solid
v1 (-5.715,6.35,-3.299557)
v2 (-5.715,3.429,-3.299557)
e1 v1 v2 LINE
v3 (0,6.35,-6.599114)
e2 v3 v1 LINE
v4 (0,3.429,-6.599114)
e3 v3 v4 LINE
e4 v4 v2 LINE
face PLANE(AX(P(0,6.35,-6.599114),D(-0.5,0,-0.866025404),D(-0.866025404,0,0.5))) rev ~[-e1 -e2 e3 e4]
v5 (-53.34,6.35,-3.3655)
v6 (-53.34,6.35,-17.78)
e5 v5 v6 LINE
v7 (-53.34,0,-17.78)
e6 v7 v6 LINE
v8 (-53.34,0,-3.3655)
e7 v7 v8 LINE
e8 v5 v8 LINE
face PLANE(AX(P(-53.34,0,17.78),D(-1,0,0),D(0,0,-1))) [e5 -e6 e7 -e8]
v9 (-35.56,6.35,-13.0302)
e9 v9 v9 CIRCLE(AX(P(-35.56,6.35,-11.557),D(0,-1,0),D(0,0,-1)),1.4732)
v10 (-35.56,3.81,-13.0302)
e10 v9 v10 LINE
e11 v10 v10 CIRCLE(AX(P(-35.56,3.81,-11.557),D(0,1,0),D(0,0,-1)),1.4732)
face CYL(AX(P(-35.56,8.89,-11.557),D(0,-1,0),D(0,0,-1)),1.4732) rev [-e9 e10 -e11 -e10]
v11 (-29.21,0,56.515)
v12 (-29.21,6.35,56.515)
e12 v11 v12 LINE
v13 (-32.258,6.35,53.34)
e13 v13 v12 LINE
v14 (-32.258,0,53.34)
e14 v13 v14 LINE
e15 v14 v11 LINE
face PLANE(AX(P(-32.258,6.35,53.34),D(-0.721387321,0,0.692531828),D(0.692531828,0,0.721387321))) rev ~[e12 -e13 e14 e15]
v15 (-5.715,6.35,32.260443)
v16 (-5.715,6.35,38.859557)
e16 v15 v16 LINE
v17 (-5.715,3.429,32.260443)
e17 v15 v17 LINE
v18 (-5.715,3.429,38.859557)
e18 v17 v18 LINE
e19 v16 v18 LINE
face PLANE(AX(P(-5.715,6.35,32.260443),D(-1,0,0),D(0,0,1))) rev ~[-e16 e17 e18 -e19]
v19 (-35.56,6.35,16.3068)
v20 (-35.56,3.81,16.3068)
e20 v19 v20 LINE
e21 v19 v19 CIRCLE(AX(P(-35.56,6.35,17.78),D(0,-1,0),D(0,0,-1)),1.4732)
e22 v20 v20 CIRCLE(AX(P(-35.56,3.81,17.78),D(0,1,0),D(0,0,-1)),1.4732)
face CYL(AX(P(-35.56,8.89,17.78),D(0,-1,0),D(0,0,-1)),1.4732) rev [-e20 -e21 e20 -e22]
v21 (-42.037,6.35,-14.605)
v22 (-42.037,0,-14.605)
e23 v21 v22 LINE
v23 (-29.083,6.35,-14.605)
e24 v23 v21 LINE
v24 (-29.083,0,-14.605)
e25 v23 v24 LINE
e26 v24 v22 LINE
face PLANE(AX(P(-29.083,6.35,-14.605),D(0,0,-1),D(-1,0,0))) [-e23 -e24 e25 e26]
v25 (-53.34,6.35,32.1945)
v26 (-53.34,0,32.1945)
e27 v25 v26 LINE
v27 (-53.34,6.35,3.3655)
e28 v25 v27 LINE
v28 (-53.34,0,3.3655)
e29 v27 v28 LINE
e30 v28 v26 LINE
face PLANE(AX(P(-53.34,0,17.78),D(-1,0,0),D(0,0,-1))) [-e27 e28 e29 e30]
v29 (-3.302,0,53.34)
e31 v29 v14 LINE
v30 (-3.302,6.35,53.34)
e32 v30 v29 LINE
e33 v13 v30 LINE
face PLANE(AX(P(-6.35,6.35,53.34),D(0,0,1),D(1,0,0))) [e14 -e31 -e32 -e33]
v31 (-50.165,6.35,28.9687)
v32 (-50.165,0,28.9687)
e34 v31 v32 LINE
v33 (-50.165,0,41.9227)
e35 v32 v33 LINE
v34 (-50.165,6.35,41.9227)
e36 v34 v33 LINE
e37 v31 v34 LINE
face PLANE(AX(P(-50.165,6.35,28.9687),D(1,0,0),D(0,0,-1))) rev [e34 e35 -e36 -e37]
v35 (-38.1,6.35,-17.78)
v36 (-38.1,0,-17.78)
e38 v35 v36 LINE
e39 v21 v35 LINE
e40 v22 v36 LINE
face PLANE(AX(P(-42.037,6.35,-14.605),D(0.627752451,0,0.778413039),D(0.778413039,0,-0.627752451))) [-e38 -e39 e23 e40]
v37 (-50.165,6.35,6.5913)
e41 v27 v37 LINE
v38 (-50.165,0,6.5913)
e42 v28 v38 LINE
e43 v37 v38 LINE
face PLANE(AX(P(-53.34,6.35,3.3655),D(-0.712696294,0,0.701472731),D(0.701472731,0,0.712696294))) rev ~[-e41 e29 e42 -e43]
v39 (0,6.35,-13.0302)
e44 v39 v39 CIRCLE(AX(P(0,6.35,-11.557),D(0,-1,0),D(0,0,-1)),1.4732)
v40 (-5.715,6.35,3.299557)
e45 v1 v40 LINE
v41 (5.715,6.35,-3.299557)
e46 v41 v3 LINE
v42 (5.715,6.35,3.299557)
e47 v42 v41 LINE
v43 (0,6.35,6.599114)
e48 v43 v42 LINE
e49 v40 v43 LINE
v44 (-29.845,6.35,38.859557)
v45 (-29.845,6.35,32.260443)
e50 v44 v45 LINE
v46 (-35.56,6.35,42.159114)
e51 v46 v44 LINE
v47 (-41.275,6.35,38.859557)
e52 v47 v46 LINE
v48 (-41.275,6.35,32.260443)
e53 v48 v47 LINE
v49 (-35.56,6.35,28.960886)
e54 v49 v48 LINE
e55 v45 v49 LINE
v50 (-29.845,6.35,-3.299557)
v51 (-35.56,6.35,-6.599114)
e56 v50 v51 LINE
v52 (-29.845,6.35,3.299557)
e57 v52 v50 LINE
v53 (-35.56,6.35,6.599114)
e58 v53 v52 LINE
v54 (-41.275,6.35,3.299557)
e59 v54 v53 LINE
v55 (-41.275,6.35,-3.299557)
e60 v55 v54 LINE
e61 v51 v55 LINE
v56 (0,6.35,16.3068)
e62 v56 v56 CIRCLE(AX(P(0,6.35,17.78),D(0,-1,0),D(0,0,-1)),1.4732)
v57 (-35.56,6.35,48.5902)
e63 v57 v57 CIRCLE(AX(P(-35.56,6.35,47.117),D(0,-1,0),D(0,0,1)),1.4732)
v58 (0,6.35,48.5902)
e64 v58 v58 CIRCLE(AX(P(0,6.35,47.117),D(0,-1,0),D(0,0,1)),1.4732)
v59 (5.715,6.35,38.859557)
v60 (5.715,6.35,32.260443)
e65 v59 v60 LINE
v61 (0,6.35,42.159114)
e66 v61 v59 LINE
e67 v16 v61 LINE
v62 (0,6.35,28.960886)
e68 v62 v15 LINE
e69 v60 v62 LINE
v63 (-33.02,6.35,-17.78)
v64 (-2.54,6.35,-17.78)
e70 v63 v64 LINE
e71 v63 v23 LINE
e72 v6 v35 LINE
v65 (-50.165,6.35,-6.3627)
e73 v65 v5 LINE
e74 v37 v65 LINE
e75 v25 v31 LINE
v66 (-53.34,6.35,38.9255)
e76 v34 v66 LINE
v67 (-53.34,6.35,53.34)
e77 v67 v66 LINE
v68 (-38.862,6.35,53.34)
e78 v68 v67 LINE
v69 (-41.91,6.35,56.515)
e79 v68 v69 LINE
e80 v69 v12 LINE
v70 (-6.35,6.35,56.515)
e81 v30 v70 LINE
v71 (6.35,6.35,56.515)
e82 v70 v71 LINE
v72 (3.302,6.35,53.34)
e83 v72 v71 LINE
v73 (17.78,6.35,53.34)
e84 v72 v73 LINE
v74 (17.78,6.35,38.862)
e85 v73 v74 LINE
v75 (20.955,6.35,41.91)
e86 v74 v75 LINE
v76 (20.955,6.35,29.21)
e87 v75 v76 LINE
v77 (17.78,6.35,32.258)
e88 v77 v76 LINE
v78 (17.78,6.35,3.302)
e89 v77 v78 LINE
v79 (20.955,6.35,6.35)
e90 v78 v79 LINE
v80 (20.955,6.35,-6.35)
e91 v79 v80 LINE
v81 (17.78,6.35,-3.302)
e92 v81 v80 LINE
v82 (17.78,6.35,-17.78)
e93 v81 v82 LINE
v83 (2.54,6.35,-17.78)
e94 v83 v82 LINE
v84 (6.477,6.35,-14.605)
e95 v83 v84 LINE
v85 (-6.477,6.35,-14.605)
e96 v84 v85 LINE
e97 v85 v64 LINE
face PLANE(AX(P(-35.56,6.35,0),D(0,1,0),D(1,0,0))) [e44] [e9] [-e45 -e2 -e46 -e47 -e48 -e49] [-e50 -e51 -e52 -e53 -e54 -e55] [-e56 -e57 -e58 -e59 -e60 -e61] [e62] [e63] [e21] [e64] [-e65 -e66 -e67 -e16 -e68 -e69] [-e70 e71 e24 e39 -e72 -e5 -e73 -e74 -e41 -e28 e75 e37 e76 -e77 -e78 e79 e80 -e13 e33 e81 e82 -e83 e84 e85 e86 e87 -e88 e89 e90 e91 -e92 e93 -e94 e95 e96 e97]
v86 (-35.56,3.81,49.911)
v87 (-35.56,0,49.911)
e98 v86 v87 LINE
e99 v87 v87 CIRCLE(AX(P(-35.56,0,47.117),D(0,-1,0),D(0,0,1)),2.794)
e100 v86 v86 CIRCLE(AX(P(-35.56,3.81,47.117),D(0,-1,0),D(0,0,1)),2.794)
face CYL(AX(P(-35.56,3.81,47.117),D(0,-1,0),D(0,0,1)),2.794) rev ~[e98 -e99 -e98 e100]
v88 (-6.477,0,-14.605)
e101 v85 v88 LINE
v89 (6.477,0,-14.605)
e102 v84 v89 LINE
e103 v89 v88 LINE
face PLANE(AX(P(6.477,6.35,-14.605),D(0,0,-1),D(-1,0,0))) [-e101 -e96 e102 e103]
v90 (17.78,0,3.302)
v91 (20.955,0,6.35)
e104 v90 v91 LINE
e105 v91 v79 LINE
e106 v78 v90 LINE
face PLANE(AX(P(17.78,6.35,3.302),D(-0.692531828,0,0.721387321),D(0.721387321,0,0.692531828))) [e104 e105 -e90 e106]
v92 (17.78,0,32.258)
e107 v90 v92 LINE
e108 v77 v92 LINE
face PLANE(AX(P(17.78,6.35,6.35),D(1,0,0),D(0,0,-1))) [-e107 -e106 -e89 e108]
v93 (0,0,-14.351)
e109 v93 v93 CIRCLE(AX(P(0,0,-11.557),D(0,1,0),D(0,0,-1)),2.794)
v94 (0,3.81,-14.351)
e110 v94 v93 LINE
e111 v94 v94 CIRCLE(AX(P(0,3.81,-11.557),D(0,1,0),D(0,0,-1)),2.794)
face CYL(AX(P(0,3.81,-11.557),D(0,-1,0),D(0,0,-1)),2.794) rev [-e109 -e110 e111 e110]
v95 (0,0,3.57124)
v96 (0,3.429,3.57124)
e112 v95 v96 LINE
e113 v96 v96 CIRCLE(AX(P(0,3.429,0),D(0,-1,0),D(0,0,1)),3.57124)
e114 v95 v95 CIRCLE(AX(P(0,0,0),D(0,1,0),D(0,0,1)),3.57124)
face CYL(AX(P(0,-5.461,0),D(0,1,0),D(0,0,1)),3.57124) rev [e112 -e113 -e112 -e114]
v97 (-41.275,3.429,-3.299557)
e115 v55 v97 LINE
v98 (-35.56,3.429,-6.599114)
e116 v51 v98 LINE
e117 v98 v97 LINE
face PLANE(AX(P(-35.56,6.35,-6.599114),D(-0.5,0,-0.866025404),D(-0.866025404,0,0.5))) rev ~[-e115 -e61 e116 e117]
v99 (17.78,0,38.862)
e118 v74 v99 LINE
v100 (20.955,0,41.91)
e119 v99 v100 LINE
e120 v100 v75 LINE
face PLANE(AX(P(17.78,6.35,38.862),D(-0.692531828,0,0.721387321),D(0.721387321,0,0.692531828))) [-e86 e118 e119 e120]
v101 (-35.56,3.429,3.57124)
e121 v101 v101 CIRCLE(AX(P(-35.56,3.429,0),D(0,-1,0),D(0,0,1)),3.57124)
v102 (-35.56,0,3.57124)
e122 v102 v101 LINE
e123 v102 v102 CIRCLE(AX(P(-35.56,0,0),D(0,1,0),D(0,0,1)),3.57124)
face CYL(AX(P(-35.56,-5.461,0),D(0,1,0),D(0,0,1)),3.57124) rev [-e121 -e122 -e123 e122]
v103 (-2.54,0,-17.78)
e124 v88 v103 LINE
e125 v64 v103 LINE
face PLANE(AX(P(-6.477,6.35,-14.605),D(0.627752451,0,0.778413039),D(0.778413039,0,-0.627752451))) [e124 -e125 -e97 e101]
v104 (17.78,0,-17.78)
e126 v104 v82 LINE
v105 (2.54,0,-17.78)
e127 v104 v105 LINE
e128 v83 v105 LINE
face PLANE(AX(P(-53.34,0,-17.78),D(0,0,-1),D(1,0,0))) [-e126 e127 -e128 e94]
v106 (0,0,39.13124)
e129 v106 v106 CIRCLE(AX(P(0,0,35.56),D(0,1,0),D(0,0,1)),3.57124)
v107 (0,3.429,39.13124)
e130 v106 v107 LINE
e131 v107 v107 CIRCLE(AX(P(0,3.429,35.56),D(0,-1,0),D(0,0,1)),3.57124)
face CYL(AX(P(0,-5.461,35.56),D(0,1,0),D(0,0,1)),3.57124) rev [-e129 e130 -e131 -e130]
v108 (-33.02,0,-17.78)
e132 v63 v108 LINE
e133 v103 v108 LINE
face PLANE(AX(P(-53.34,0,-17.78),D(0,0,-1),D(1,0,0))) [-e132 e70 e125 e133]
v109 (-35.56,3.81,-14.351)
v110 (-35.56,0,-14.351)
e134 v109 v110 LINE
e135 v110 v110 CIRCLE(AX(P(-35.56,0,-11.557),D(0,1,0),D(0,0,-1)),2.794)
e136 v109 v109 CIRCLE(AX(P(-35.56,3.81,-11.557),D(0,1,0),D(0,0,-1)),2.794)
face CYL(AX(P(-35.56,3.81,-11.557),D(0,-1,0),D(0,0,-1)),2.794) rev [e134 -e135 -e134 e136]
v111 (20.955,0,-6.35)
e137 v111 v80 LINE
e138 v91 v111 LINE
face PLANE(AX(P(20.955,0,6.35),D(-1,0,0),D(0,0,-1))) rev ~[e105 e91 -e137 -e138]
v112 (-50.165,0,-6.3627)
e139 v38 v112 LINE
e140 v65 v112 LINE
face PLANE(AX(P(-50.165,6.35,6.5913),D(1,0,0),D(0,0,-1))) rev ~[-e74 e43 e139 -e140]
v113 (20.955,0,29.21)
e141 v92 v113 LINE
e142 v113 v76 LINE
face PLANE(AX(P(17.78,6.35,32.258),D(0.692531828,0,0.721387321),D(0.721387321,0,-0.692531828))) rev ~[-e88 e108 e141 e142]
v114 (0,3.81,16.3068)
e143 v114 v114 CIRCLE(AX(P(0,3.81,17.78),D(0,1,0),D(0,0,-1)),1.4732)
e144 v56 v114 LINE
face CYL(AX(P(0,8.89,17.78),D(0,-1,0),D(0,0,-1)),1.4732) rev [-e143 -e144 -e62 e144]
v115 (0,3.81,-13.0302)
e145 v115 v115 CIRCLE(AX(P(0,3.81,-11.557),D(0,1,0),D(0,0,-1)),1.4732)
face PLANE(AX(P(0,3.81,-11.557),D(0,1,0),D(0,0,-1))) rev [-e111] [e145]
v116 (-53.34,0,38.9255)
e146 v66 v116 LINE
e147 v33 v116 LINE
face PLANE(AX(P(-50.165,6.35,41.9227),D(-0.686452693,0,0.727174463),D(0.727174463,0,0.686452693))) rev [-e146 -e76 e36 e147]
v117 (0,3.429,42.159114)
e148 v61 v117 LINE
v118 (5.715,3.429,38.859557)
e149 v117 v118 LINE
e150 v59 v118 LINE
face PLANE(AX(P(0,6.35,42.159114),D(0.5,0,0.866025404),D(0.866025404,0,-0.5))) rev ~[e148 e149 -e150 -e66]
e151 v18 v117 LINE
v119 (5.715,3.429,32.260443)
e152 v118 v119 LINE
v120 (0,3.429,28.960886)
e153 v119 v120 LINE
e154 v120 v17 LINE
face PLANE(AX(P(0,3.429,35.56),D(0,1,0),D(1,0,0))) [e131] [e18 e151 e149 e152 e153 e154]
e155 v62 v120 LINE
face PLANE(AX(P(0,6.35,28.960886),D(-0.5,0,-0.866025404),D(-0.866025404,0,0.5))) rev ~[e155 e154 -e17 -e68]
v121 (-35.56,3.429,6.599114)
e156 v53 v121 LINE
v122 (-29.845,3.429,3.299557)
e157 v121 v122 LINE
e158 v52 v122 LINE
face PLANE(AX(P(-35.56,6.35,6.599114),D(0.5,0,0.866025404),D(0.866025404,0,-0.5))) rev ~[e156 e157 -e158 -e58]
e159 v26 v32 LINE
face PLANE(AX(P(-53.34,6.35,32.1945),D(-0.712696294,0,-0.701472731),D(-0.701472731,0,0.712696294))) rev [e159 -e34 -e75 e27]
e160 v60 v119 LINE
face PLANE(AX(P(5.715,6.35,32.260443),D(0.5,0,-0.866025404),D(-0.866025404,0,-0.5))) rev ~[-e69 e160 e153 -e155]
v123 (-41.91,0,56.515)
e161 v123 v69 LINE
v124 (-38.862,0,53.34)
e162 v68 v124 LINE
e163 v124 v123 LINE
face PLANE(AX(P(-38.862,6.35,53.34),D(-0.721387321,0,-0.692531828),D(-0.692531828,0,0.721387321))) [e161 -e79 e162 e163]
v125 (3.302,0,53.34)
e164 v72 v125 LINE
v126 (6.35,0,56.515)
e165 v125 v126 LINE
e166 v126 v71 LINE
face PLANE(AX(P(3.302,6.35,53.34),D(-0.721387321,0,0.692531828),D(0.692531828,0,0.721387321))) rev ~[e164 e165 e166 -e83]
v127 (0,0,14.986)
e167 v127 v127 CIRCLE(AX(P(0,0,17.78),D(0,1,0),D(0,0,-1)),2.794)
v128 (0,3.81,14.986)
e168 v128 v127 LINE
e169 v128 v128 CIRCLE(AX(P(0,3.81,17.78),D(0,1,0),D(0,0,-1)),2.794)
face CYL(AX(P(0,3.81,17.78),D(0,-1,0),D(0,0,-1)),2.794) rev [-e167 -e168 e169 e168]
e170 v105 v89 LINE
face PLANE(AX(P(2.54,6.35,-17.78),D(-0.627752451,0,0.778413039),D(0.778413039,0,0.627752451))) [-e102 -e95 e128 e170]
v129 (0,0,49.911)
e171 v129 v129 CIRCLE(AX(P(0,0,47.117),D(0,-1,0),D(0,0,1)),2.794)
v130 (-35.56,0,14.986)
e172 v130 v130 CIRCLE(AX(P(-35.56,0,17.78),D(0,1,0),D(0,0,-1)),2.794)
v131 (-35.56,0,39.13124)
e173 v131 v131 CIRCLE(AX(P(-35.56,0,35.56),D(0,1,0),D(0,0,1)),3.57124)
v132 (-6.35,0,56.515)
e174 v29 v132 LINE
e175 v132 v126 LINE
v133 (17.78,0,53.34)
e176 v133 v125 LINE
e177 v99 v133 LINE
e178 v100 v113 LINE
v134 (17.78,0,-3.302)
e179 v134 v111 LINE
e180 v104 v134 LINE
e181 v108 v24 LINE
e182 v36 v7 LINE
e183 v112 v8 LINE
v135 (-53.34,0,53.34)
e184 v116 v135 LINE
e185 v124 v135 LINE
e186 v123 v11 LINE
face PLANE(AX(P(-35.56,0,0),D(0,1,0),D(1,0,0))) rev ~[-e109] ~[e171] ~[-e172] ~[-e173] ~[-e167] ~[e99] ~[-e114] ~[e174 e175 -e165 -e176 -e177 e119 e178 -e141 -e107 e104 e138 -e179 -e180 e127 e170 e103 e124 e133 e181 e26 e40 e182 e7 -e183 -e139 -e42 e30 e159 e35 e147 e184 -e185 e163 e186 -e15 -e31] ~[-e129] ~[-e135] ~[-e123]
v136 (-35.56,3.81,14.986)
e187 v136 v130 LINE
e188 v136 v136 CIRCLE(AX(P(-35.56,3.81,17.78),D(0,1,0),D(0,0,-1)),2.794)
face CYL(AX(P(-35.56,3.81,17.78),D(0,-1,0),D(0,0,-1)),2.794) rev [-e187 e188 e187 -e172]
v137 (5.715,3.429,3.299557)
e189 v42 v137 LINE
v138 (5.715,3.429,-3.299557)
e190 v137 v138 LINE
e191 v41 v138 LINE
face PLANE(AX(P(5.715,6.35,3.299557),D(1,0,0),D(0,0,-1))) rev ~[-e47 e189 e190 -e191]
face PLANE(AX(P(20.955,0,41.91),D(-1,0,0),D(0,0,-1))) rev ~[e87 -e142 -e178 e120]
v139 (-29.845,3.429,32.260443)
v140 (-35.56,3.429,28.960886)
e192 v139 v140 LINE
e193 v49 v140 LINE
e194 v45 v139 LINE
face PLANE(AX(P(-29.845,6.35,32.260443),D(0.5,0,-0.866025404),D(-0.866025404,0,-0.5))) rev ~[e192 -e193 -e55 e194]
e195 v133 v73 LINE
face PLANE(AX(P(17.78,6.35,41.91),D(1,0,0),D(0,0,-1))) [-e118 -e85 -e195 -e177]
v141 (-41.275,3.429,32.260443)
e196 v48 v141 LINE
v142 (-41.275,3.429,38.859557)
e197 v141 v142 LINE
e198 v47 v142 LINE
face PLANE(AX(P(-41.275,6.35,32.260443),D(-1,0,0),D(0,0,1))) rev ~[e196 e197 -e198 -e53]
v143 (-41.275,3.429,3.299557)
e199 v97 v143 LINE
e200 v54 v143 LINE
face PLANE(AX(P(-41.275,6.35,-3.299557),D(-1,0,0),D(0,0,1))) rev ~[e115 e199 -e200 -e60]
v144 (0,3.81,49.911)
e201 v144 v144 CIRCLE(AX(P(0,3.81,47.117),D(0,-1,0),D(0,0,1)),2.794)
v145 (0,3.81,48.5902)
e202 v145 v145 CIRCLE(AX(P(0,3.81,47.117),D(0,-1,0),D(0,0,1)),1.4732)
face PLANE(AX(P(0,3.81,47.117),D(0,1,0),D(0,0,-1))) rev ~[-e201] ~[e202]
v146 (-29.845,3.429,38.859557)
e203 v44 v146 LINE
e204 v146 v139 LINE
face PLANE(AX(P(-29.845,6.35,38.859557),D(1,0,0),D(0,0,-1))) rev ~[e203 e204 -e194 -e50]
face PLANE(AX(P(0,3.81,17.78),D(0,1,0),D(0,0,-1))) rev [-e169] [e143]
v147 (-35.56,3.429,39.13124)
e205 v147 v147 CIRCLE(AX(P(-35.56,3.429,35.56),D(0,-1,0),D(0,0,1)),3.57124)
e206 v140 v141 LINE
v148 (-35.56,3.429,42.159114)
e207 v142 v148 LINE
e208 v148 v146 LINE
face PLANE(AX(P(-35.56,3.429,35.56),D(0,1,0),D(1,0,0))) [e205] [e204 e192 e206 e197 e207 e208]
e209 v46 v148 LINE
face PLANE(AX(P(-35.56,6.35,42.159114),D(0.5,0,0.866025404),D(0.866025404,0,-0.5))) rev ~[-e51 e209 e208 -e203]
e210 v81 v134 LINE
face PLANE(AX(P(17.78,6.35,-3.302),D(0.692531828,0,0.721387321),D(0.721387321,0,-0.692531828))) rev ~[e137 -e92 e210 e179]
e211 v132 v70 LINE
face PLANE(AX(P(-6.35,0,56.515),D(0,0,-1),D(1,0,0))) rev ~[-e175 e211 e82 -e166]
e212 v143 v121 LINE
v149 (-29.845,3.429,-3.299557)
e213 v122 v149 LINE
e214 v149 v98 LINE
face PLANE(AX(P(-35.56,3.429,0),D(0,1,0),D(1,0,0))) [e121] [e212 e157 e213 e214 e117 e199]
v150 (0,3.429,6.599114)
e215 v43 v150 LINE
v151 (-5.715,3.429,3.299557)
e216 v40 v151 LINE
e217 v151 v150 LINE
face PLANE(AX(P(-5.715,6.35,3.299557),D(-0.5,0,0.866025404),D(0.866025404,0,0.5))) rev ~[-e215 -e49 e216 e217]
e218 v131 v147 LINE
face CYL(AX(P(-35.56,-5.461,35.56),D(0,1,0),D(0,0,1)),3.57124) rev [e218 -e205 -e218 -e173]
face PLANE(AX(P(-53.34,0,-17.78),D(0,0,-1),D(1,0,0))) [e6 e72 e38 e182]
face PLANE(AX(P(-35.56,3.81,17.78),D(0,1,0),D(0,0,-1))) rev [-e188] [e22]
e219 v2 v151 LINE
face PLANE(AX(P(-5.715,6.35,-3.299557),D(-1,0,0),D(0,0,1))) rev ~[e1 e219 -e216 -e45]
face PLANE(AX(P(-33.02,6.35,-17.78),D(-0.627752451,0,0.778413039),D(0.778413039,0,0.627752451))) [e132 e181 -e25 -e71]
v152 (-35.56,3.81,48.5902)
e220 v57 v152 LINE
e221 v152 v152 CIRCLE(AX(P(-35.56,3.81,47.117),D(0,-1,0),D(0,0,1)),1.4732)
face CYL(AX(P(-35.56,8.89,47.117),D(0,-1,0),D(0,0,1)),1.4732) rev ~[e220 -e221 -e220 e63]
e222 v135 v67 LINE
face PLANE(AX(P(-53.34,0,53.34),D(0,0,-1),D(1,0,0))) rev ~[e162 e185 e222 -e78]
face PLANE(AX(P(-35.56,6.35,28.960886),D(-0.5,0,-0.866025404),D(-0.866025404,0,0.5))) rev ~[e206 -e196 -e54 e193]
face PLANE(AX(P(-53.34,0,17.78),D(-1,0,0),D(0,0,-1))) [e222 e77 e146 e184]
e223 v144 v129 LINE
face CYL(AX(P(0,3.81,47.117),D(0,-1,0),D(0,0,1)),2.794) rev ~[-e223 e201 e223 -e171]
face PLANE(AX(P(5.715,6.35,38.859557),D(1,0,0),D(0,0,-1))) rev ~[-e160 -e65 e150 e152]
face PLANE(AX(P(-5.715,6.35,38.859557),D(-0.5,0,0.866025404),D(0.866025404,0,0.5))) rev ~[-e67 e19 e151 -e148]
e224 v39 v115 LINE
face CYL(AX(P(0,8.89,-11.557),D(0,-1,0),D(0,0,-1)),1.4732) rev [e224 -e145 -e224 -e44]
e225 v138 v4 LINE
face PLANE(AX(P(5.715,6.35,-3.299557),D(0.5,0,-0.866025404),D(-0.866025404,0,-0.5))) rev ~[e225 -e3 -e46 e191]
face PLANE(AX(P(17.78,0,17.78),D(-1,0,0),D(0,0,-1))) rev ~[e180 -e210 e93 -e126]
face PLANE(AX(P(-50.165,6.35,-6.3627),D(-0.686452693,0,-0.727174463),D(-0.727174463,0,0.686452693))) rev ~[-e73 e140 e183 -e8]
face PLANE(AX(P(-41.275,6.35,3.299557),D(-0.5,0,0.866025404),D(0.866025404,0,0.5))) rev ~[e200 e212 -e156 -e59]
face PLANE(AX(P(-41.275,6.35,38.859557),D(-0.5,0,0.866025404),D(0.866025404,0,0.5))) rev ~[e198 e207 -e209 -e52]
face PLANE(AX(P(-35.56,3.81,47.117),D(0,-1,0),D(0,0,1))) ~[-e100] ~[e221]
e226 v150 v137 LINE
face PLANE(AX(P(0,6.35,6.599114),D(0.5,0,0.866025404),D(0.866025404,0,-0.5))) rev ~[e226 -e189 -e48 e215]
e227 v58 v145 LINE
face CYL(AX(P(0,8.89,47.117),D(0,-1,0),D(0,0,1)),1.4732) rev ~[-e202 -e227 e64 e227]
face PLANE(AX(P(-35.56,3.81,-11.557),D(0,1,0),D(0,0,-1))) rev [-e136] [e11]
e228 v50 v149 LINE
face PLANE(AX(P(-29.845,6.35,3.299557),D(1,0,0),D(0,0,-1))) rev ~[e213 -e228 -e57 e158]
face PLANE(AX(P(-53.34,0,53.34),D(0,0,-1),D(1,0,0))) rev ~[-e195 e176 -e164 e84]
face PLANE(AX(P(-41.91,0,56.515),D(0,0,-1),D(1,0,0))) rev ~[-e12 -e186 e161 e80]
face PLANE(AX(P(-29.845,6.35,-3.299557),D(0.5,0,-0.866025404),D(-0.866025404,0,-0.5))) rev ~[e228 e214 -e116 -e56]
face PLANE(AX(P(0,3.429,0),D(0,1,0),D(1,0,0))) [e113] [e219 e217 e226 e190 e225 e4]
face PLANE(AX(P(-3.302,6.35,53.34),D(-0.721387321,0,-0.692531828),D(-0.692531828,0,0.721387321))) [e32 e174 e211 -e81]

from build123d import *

# Parameters (mm, degrees)
SKETCH1_W             = 35.56
SKETCH1_H             = 35.56
BOSS_EXTRUDE1_DEPTH   = 6.35
CUT_EXTRUDE1_DEPTH    = 2.921
LPATTERN11_COUNT      = 2
LPATTERN11_PITCH      = 35.56
LPATTERN11_COUNT_DIR2 = 2
LPATTERN11_PITCH_DIR2 = 35.56
LPATTERN15_COUNT      = 2
LPATTERN15_PITCH      = 35.56
LPATTERN16_COUNT      = 2
LPATTERN16_PITCH      = 35.56
SKETCH20_W            = 3.175
SKETCH20_H            = 12.7
BOSS_EXTRUDE2_DEPTH   = 6.35
CUT_EXTRUDE2_DEPTH    = 76.700949135
SKETCH22_W            = 12.7
SKETCH22_H            = 3.175
BOSS_EXTRUDE3_DEPTH   = 6.35
CUT_EXTRUDE3_DEPTH    = 78.97065682
CUT_EXTRUDE4_DEPTH    = 78.97065682
CUT_EXTRUDE5_DEPTH    = 78.97065682


with BuildPart() as part:
    # Sketch1 → Boss-Extrude1 (new body)
    with BuildSketch(Plane(origin=(0, 0, 0), x_dir=(1, 0, 0), z_dir=(0, 1, 0))):
        Rectangle(SKETCH1_W, SKETCH1_H)
    boss_extrude1 = extrude(amount=BOSS_EXTRUDE1_DEPTH)

    # Sketch2 → Cut-Extrude1 (cut)
    with BuildSketch(Plane(origin=(0, 6.35, 0), x_dir=(1, 0, 0), z_dir=(0, 1, 0))):
        Polygon((0, 6.599113577), (-5.715, 3.299556788), (-5.715, -3.299556788), (0, -6.599113577), (5.715, -3.299556788), (5.715, 3.299556788), align=None)
    cut_extrude1 = extrude(amount=-CUT_EXTRUDE1_DEPTH, mode=Mode.SUBTRACT)

    # Sketch3 → 1/4 Clearance Hole1 (revolve, cut)
    with BuildSketch(Plane(origin=(0, 3.429, 0), x_dir=(0, 0, 1), z_dir=(1, 0, 0))):
        Polygon((0, 0), (0, 11.035817477), (3.57124, 8.89), (3.57124, 0), align=None)
    f_1_4_clearance_hole1 = revolve(axis=Axis((0, 9.779, 0), (0, -1, 0)), mode=Mode.SUBTRACT)

    # LPattern11: Boss-Extrude1, Cut-Extrude1, 1_4 Clearance Hole1 2 × 2
    with Locations(*[(-j * LPATTERN11_PITCH_DIR2, 0, i * LPATTERN11_PITCH) for i in range(LPATTERN11_COUNT) for j in range(LPATTERN11_COUNT_DIR2) if (i, j) != (0, 0)]):
        add(boss_extrude1)
        add(cut_extrude1, mode=Mode.SUBTRACT)
        add(f_1_4_clearance_hole1, mode=Mode.SUBTRACT)

    # Sketch15 → CBORE for #4 Socket Head Cap Screw5 (revolve, cut)
    with BuildSketch(Plane(origin=(0, 0, -11.557), x_dir=(0, 0, -1), z_dir=(1, 0, 0))):
        Polygon((0, 0), (0, 9.775187864), (1.4732, 8.89), (1.4732, 3.81), (2.794, 3.81), (2.794, 0), align=None)
    cbore_for_4_socket_head_cap_screw5 = revolve(axis=Axis((0, -6.35, -11.557), (0, 1, 0)), mode=Mode.SUBTRACT)

    # LPattern15: CBORE for #4 Socket Head Cap Screw5 ×2
    with Locations(*[(-i * LPATTERN15_PITCH, 0, 0) for i in range(1, LPATTERN15_COUNT)]):
        add(cbore_for_4_socket_head_cap_screw5, mode=Mode.SUBTRACT)

    # Sketch17 → CBORE for #4 Socket Head Cap Screw6 (revolve, cut)
    with BuildSketch(Plane(origin=(0, 0, 17.78), x_dir=(0, 0, -1), z_dir=(1, 0, 0))):
        Polygon((0, 0), (0, 9.775187864), (1.4732, 8.89), (1.4732, 3.81), (2.794, 3.81), (2.794, 0), align=None)
    cbore_for_4_socket_head_cap_screw6 = revolve(axis=Axis((0, -6.35, 17.78), (0, 1, 0)), mode=Mode.SUBTRACT)

    # LPattern16: CBORE for #4 Socket Head Cap Screw6 ×2
    with Locations(*[(-i * LPATTERN16_PITCH, 0, 0) for i in range(1, LPATTERN16_COUNT)]):
        add(cbore_for_4_socket_head_cap_screw6, mode=Mode.SUBTRACT)

    # Mirror1: CBORE for #4 Socket Head Cap Screw5 across plane
    add(cbore_for_4_socket_head_cap_screw5.mirror(Plane.XY.offset(17.78)), mode=Mode.SUBTRACT)

    # Mirror1 copy 1 sketch → Mirror1 copy 1 (revolve, cut)
    with BuildSketch(Plane(origin=(-35.56, 0, 47.117), x_dir=(0, 0, 1), z_dir=(1, 0, 0))):
        Polygon((0, 0), (0, -9.775187864), (1.4732, -8.89), (1.4732, -3.81), (2.794, -3.81), (2.794, 0), align=None)
    revolve(axis=Axis((-35.56, -6.35, 47.117), (0, -1, 0)), mode=Mode.SUBTRACT)

    # Sketch20 → Boss-Extrude2 (add)
    with BuildSketch(Plane(origin=(0, 0, 0), x_dir=(1, 0, 0), z_dir=(0, 1, 0))):
        with Locations((19.3675, 0)):
            Rectangle(SKETCH20_W, SKETCH20_H)
        with Locations((19.3675, -35.56)):
            Rectangle(SKETCH20_W, SKETCH20_H)
    extrude(amount=BOSS_EXTRUDE2_DEPTH)

    # Sketch21 → Cut-Extrude2 (cut, through all)
    with BuildSketch(Plane(origin=(0, 6.35, 0), x_dir=(1, 0, 0), z_dir=(0, 1, 0))):
        Polygon((20.955, -6.35), (17.78, -6.35), (17.78, -3.302), align=None)
        Polygon((20.955, 6.35), (17.78, 6.35), (17.78, 3.302), align=None)
        Polygon((20.955, -29.21), (17.78, -29.21), (17.78, -32.258), align=None)
        Polygon((20.955, -41.91), (17.78, -41.91), (17.78, -38.862), align=None)
    extrude(amount=-CUT_EXTRUDE2_DEPTH, mode=Mode.SUBTRACT)

    # Sketch22 → Boss-Extrude3 (add)
    with BuildSketch(Plane(origin=(0, 0, 0), x_dir=(1, 0, 0), z_dir=(0, 1, 0))):
        with Locations((-35.56, -54.9275)):
            Rectangle(SKETCH22_W, SKETCH22_H)
        with Locations((0, -54.9275)):
            Rectangle(SKETCH22_W, SKETCH22_H)
    extrude(amount=BOSS_EXTRUDE3_DEPTH)

    # Sketch23 → Cut-Extrude3 (cut, through all)
    with BuildSketch(Plane(origin=(0, 6.35, 0), x_dir=(1, 0, 0), z_dir=(0, 1, 0))):
        Polygon((-41.91, -56.515), (-41.91, -53.34), (-38.862, -53.34), align=None)
        Polygon((-29.21, -56.515), (-29.21, -53.34), (-32.258, -53.34), align=None)
        Polygon((-6.35, -56.515), (-6.35, -53.34), (-3.302, -53.34), align=None)
        Polygon((6.35, -56.515), (6.35, -53.34), (3.302, -53.34), align=None)
    extrude(amount=-CUT_EXTRUDE3_DEPTH, mode=Mode.SUBTRACT)

    # Sketch24 → Cut-Extrude4 (cut, through all)
    with BuildSketch(Plane(origin=(0, 6.35, 0), x_dir=(1, 0, 0), z_dir=(0, 1, 0))):
        Polygon((-53.34, 3.3655), (-53.34, -3.3655), (-50.165, -6.5913), (-50.165, 6.3627), align=None)
    cut_extrude4 = extrude(amount=-CUT_EXTRUDE4_DEPTH, mode=Mode.SUBTRACT)

    # Mirror2: Cut-Extrude4 across plane
    add(cut_extrude4.mirror(Plane.XY.offset(17.78)), mode=Mode.SUBTRACT)

    # Sketch25 → Cut-Extrude5 (cut, through all)
    with BuildSketch(Plane(origin=(0, 6.35, 0), x_dir=(1, 0, 0), z_dir=(0, 1, 0))):
        Polygon((-38.1, 17.78), (-33.02, 17.78), (-29.083, 14.605), (-42.037, 14.605), align=None)
        Polygon((-2.54, 17.78), (2.54, 17.78), (6.477, 14.605), (-6.477, 14.605), align=None)
    extrude(amount=-CUT_EXTRUDE5_DEPTH, mode=Mode.SUBTRACT)


solid = part.part
